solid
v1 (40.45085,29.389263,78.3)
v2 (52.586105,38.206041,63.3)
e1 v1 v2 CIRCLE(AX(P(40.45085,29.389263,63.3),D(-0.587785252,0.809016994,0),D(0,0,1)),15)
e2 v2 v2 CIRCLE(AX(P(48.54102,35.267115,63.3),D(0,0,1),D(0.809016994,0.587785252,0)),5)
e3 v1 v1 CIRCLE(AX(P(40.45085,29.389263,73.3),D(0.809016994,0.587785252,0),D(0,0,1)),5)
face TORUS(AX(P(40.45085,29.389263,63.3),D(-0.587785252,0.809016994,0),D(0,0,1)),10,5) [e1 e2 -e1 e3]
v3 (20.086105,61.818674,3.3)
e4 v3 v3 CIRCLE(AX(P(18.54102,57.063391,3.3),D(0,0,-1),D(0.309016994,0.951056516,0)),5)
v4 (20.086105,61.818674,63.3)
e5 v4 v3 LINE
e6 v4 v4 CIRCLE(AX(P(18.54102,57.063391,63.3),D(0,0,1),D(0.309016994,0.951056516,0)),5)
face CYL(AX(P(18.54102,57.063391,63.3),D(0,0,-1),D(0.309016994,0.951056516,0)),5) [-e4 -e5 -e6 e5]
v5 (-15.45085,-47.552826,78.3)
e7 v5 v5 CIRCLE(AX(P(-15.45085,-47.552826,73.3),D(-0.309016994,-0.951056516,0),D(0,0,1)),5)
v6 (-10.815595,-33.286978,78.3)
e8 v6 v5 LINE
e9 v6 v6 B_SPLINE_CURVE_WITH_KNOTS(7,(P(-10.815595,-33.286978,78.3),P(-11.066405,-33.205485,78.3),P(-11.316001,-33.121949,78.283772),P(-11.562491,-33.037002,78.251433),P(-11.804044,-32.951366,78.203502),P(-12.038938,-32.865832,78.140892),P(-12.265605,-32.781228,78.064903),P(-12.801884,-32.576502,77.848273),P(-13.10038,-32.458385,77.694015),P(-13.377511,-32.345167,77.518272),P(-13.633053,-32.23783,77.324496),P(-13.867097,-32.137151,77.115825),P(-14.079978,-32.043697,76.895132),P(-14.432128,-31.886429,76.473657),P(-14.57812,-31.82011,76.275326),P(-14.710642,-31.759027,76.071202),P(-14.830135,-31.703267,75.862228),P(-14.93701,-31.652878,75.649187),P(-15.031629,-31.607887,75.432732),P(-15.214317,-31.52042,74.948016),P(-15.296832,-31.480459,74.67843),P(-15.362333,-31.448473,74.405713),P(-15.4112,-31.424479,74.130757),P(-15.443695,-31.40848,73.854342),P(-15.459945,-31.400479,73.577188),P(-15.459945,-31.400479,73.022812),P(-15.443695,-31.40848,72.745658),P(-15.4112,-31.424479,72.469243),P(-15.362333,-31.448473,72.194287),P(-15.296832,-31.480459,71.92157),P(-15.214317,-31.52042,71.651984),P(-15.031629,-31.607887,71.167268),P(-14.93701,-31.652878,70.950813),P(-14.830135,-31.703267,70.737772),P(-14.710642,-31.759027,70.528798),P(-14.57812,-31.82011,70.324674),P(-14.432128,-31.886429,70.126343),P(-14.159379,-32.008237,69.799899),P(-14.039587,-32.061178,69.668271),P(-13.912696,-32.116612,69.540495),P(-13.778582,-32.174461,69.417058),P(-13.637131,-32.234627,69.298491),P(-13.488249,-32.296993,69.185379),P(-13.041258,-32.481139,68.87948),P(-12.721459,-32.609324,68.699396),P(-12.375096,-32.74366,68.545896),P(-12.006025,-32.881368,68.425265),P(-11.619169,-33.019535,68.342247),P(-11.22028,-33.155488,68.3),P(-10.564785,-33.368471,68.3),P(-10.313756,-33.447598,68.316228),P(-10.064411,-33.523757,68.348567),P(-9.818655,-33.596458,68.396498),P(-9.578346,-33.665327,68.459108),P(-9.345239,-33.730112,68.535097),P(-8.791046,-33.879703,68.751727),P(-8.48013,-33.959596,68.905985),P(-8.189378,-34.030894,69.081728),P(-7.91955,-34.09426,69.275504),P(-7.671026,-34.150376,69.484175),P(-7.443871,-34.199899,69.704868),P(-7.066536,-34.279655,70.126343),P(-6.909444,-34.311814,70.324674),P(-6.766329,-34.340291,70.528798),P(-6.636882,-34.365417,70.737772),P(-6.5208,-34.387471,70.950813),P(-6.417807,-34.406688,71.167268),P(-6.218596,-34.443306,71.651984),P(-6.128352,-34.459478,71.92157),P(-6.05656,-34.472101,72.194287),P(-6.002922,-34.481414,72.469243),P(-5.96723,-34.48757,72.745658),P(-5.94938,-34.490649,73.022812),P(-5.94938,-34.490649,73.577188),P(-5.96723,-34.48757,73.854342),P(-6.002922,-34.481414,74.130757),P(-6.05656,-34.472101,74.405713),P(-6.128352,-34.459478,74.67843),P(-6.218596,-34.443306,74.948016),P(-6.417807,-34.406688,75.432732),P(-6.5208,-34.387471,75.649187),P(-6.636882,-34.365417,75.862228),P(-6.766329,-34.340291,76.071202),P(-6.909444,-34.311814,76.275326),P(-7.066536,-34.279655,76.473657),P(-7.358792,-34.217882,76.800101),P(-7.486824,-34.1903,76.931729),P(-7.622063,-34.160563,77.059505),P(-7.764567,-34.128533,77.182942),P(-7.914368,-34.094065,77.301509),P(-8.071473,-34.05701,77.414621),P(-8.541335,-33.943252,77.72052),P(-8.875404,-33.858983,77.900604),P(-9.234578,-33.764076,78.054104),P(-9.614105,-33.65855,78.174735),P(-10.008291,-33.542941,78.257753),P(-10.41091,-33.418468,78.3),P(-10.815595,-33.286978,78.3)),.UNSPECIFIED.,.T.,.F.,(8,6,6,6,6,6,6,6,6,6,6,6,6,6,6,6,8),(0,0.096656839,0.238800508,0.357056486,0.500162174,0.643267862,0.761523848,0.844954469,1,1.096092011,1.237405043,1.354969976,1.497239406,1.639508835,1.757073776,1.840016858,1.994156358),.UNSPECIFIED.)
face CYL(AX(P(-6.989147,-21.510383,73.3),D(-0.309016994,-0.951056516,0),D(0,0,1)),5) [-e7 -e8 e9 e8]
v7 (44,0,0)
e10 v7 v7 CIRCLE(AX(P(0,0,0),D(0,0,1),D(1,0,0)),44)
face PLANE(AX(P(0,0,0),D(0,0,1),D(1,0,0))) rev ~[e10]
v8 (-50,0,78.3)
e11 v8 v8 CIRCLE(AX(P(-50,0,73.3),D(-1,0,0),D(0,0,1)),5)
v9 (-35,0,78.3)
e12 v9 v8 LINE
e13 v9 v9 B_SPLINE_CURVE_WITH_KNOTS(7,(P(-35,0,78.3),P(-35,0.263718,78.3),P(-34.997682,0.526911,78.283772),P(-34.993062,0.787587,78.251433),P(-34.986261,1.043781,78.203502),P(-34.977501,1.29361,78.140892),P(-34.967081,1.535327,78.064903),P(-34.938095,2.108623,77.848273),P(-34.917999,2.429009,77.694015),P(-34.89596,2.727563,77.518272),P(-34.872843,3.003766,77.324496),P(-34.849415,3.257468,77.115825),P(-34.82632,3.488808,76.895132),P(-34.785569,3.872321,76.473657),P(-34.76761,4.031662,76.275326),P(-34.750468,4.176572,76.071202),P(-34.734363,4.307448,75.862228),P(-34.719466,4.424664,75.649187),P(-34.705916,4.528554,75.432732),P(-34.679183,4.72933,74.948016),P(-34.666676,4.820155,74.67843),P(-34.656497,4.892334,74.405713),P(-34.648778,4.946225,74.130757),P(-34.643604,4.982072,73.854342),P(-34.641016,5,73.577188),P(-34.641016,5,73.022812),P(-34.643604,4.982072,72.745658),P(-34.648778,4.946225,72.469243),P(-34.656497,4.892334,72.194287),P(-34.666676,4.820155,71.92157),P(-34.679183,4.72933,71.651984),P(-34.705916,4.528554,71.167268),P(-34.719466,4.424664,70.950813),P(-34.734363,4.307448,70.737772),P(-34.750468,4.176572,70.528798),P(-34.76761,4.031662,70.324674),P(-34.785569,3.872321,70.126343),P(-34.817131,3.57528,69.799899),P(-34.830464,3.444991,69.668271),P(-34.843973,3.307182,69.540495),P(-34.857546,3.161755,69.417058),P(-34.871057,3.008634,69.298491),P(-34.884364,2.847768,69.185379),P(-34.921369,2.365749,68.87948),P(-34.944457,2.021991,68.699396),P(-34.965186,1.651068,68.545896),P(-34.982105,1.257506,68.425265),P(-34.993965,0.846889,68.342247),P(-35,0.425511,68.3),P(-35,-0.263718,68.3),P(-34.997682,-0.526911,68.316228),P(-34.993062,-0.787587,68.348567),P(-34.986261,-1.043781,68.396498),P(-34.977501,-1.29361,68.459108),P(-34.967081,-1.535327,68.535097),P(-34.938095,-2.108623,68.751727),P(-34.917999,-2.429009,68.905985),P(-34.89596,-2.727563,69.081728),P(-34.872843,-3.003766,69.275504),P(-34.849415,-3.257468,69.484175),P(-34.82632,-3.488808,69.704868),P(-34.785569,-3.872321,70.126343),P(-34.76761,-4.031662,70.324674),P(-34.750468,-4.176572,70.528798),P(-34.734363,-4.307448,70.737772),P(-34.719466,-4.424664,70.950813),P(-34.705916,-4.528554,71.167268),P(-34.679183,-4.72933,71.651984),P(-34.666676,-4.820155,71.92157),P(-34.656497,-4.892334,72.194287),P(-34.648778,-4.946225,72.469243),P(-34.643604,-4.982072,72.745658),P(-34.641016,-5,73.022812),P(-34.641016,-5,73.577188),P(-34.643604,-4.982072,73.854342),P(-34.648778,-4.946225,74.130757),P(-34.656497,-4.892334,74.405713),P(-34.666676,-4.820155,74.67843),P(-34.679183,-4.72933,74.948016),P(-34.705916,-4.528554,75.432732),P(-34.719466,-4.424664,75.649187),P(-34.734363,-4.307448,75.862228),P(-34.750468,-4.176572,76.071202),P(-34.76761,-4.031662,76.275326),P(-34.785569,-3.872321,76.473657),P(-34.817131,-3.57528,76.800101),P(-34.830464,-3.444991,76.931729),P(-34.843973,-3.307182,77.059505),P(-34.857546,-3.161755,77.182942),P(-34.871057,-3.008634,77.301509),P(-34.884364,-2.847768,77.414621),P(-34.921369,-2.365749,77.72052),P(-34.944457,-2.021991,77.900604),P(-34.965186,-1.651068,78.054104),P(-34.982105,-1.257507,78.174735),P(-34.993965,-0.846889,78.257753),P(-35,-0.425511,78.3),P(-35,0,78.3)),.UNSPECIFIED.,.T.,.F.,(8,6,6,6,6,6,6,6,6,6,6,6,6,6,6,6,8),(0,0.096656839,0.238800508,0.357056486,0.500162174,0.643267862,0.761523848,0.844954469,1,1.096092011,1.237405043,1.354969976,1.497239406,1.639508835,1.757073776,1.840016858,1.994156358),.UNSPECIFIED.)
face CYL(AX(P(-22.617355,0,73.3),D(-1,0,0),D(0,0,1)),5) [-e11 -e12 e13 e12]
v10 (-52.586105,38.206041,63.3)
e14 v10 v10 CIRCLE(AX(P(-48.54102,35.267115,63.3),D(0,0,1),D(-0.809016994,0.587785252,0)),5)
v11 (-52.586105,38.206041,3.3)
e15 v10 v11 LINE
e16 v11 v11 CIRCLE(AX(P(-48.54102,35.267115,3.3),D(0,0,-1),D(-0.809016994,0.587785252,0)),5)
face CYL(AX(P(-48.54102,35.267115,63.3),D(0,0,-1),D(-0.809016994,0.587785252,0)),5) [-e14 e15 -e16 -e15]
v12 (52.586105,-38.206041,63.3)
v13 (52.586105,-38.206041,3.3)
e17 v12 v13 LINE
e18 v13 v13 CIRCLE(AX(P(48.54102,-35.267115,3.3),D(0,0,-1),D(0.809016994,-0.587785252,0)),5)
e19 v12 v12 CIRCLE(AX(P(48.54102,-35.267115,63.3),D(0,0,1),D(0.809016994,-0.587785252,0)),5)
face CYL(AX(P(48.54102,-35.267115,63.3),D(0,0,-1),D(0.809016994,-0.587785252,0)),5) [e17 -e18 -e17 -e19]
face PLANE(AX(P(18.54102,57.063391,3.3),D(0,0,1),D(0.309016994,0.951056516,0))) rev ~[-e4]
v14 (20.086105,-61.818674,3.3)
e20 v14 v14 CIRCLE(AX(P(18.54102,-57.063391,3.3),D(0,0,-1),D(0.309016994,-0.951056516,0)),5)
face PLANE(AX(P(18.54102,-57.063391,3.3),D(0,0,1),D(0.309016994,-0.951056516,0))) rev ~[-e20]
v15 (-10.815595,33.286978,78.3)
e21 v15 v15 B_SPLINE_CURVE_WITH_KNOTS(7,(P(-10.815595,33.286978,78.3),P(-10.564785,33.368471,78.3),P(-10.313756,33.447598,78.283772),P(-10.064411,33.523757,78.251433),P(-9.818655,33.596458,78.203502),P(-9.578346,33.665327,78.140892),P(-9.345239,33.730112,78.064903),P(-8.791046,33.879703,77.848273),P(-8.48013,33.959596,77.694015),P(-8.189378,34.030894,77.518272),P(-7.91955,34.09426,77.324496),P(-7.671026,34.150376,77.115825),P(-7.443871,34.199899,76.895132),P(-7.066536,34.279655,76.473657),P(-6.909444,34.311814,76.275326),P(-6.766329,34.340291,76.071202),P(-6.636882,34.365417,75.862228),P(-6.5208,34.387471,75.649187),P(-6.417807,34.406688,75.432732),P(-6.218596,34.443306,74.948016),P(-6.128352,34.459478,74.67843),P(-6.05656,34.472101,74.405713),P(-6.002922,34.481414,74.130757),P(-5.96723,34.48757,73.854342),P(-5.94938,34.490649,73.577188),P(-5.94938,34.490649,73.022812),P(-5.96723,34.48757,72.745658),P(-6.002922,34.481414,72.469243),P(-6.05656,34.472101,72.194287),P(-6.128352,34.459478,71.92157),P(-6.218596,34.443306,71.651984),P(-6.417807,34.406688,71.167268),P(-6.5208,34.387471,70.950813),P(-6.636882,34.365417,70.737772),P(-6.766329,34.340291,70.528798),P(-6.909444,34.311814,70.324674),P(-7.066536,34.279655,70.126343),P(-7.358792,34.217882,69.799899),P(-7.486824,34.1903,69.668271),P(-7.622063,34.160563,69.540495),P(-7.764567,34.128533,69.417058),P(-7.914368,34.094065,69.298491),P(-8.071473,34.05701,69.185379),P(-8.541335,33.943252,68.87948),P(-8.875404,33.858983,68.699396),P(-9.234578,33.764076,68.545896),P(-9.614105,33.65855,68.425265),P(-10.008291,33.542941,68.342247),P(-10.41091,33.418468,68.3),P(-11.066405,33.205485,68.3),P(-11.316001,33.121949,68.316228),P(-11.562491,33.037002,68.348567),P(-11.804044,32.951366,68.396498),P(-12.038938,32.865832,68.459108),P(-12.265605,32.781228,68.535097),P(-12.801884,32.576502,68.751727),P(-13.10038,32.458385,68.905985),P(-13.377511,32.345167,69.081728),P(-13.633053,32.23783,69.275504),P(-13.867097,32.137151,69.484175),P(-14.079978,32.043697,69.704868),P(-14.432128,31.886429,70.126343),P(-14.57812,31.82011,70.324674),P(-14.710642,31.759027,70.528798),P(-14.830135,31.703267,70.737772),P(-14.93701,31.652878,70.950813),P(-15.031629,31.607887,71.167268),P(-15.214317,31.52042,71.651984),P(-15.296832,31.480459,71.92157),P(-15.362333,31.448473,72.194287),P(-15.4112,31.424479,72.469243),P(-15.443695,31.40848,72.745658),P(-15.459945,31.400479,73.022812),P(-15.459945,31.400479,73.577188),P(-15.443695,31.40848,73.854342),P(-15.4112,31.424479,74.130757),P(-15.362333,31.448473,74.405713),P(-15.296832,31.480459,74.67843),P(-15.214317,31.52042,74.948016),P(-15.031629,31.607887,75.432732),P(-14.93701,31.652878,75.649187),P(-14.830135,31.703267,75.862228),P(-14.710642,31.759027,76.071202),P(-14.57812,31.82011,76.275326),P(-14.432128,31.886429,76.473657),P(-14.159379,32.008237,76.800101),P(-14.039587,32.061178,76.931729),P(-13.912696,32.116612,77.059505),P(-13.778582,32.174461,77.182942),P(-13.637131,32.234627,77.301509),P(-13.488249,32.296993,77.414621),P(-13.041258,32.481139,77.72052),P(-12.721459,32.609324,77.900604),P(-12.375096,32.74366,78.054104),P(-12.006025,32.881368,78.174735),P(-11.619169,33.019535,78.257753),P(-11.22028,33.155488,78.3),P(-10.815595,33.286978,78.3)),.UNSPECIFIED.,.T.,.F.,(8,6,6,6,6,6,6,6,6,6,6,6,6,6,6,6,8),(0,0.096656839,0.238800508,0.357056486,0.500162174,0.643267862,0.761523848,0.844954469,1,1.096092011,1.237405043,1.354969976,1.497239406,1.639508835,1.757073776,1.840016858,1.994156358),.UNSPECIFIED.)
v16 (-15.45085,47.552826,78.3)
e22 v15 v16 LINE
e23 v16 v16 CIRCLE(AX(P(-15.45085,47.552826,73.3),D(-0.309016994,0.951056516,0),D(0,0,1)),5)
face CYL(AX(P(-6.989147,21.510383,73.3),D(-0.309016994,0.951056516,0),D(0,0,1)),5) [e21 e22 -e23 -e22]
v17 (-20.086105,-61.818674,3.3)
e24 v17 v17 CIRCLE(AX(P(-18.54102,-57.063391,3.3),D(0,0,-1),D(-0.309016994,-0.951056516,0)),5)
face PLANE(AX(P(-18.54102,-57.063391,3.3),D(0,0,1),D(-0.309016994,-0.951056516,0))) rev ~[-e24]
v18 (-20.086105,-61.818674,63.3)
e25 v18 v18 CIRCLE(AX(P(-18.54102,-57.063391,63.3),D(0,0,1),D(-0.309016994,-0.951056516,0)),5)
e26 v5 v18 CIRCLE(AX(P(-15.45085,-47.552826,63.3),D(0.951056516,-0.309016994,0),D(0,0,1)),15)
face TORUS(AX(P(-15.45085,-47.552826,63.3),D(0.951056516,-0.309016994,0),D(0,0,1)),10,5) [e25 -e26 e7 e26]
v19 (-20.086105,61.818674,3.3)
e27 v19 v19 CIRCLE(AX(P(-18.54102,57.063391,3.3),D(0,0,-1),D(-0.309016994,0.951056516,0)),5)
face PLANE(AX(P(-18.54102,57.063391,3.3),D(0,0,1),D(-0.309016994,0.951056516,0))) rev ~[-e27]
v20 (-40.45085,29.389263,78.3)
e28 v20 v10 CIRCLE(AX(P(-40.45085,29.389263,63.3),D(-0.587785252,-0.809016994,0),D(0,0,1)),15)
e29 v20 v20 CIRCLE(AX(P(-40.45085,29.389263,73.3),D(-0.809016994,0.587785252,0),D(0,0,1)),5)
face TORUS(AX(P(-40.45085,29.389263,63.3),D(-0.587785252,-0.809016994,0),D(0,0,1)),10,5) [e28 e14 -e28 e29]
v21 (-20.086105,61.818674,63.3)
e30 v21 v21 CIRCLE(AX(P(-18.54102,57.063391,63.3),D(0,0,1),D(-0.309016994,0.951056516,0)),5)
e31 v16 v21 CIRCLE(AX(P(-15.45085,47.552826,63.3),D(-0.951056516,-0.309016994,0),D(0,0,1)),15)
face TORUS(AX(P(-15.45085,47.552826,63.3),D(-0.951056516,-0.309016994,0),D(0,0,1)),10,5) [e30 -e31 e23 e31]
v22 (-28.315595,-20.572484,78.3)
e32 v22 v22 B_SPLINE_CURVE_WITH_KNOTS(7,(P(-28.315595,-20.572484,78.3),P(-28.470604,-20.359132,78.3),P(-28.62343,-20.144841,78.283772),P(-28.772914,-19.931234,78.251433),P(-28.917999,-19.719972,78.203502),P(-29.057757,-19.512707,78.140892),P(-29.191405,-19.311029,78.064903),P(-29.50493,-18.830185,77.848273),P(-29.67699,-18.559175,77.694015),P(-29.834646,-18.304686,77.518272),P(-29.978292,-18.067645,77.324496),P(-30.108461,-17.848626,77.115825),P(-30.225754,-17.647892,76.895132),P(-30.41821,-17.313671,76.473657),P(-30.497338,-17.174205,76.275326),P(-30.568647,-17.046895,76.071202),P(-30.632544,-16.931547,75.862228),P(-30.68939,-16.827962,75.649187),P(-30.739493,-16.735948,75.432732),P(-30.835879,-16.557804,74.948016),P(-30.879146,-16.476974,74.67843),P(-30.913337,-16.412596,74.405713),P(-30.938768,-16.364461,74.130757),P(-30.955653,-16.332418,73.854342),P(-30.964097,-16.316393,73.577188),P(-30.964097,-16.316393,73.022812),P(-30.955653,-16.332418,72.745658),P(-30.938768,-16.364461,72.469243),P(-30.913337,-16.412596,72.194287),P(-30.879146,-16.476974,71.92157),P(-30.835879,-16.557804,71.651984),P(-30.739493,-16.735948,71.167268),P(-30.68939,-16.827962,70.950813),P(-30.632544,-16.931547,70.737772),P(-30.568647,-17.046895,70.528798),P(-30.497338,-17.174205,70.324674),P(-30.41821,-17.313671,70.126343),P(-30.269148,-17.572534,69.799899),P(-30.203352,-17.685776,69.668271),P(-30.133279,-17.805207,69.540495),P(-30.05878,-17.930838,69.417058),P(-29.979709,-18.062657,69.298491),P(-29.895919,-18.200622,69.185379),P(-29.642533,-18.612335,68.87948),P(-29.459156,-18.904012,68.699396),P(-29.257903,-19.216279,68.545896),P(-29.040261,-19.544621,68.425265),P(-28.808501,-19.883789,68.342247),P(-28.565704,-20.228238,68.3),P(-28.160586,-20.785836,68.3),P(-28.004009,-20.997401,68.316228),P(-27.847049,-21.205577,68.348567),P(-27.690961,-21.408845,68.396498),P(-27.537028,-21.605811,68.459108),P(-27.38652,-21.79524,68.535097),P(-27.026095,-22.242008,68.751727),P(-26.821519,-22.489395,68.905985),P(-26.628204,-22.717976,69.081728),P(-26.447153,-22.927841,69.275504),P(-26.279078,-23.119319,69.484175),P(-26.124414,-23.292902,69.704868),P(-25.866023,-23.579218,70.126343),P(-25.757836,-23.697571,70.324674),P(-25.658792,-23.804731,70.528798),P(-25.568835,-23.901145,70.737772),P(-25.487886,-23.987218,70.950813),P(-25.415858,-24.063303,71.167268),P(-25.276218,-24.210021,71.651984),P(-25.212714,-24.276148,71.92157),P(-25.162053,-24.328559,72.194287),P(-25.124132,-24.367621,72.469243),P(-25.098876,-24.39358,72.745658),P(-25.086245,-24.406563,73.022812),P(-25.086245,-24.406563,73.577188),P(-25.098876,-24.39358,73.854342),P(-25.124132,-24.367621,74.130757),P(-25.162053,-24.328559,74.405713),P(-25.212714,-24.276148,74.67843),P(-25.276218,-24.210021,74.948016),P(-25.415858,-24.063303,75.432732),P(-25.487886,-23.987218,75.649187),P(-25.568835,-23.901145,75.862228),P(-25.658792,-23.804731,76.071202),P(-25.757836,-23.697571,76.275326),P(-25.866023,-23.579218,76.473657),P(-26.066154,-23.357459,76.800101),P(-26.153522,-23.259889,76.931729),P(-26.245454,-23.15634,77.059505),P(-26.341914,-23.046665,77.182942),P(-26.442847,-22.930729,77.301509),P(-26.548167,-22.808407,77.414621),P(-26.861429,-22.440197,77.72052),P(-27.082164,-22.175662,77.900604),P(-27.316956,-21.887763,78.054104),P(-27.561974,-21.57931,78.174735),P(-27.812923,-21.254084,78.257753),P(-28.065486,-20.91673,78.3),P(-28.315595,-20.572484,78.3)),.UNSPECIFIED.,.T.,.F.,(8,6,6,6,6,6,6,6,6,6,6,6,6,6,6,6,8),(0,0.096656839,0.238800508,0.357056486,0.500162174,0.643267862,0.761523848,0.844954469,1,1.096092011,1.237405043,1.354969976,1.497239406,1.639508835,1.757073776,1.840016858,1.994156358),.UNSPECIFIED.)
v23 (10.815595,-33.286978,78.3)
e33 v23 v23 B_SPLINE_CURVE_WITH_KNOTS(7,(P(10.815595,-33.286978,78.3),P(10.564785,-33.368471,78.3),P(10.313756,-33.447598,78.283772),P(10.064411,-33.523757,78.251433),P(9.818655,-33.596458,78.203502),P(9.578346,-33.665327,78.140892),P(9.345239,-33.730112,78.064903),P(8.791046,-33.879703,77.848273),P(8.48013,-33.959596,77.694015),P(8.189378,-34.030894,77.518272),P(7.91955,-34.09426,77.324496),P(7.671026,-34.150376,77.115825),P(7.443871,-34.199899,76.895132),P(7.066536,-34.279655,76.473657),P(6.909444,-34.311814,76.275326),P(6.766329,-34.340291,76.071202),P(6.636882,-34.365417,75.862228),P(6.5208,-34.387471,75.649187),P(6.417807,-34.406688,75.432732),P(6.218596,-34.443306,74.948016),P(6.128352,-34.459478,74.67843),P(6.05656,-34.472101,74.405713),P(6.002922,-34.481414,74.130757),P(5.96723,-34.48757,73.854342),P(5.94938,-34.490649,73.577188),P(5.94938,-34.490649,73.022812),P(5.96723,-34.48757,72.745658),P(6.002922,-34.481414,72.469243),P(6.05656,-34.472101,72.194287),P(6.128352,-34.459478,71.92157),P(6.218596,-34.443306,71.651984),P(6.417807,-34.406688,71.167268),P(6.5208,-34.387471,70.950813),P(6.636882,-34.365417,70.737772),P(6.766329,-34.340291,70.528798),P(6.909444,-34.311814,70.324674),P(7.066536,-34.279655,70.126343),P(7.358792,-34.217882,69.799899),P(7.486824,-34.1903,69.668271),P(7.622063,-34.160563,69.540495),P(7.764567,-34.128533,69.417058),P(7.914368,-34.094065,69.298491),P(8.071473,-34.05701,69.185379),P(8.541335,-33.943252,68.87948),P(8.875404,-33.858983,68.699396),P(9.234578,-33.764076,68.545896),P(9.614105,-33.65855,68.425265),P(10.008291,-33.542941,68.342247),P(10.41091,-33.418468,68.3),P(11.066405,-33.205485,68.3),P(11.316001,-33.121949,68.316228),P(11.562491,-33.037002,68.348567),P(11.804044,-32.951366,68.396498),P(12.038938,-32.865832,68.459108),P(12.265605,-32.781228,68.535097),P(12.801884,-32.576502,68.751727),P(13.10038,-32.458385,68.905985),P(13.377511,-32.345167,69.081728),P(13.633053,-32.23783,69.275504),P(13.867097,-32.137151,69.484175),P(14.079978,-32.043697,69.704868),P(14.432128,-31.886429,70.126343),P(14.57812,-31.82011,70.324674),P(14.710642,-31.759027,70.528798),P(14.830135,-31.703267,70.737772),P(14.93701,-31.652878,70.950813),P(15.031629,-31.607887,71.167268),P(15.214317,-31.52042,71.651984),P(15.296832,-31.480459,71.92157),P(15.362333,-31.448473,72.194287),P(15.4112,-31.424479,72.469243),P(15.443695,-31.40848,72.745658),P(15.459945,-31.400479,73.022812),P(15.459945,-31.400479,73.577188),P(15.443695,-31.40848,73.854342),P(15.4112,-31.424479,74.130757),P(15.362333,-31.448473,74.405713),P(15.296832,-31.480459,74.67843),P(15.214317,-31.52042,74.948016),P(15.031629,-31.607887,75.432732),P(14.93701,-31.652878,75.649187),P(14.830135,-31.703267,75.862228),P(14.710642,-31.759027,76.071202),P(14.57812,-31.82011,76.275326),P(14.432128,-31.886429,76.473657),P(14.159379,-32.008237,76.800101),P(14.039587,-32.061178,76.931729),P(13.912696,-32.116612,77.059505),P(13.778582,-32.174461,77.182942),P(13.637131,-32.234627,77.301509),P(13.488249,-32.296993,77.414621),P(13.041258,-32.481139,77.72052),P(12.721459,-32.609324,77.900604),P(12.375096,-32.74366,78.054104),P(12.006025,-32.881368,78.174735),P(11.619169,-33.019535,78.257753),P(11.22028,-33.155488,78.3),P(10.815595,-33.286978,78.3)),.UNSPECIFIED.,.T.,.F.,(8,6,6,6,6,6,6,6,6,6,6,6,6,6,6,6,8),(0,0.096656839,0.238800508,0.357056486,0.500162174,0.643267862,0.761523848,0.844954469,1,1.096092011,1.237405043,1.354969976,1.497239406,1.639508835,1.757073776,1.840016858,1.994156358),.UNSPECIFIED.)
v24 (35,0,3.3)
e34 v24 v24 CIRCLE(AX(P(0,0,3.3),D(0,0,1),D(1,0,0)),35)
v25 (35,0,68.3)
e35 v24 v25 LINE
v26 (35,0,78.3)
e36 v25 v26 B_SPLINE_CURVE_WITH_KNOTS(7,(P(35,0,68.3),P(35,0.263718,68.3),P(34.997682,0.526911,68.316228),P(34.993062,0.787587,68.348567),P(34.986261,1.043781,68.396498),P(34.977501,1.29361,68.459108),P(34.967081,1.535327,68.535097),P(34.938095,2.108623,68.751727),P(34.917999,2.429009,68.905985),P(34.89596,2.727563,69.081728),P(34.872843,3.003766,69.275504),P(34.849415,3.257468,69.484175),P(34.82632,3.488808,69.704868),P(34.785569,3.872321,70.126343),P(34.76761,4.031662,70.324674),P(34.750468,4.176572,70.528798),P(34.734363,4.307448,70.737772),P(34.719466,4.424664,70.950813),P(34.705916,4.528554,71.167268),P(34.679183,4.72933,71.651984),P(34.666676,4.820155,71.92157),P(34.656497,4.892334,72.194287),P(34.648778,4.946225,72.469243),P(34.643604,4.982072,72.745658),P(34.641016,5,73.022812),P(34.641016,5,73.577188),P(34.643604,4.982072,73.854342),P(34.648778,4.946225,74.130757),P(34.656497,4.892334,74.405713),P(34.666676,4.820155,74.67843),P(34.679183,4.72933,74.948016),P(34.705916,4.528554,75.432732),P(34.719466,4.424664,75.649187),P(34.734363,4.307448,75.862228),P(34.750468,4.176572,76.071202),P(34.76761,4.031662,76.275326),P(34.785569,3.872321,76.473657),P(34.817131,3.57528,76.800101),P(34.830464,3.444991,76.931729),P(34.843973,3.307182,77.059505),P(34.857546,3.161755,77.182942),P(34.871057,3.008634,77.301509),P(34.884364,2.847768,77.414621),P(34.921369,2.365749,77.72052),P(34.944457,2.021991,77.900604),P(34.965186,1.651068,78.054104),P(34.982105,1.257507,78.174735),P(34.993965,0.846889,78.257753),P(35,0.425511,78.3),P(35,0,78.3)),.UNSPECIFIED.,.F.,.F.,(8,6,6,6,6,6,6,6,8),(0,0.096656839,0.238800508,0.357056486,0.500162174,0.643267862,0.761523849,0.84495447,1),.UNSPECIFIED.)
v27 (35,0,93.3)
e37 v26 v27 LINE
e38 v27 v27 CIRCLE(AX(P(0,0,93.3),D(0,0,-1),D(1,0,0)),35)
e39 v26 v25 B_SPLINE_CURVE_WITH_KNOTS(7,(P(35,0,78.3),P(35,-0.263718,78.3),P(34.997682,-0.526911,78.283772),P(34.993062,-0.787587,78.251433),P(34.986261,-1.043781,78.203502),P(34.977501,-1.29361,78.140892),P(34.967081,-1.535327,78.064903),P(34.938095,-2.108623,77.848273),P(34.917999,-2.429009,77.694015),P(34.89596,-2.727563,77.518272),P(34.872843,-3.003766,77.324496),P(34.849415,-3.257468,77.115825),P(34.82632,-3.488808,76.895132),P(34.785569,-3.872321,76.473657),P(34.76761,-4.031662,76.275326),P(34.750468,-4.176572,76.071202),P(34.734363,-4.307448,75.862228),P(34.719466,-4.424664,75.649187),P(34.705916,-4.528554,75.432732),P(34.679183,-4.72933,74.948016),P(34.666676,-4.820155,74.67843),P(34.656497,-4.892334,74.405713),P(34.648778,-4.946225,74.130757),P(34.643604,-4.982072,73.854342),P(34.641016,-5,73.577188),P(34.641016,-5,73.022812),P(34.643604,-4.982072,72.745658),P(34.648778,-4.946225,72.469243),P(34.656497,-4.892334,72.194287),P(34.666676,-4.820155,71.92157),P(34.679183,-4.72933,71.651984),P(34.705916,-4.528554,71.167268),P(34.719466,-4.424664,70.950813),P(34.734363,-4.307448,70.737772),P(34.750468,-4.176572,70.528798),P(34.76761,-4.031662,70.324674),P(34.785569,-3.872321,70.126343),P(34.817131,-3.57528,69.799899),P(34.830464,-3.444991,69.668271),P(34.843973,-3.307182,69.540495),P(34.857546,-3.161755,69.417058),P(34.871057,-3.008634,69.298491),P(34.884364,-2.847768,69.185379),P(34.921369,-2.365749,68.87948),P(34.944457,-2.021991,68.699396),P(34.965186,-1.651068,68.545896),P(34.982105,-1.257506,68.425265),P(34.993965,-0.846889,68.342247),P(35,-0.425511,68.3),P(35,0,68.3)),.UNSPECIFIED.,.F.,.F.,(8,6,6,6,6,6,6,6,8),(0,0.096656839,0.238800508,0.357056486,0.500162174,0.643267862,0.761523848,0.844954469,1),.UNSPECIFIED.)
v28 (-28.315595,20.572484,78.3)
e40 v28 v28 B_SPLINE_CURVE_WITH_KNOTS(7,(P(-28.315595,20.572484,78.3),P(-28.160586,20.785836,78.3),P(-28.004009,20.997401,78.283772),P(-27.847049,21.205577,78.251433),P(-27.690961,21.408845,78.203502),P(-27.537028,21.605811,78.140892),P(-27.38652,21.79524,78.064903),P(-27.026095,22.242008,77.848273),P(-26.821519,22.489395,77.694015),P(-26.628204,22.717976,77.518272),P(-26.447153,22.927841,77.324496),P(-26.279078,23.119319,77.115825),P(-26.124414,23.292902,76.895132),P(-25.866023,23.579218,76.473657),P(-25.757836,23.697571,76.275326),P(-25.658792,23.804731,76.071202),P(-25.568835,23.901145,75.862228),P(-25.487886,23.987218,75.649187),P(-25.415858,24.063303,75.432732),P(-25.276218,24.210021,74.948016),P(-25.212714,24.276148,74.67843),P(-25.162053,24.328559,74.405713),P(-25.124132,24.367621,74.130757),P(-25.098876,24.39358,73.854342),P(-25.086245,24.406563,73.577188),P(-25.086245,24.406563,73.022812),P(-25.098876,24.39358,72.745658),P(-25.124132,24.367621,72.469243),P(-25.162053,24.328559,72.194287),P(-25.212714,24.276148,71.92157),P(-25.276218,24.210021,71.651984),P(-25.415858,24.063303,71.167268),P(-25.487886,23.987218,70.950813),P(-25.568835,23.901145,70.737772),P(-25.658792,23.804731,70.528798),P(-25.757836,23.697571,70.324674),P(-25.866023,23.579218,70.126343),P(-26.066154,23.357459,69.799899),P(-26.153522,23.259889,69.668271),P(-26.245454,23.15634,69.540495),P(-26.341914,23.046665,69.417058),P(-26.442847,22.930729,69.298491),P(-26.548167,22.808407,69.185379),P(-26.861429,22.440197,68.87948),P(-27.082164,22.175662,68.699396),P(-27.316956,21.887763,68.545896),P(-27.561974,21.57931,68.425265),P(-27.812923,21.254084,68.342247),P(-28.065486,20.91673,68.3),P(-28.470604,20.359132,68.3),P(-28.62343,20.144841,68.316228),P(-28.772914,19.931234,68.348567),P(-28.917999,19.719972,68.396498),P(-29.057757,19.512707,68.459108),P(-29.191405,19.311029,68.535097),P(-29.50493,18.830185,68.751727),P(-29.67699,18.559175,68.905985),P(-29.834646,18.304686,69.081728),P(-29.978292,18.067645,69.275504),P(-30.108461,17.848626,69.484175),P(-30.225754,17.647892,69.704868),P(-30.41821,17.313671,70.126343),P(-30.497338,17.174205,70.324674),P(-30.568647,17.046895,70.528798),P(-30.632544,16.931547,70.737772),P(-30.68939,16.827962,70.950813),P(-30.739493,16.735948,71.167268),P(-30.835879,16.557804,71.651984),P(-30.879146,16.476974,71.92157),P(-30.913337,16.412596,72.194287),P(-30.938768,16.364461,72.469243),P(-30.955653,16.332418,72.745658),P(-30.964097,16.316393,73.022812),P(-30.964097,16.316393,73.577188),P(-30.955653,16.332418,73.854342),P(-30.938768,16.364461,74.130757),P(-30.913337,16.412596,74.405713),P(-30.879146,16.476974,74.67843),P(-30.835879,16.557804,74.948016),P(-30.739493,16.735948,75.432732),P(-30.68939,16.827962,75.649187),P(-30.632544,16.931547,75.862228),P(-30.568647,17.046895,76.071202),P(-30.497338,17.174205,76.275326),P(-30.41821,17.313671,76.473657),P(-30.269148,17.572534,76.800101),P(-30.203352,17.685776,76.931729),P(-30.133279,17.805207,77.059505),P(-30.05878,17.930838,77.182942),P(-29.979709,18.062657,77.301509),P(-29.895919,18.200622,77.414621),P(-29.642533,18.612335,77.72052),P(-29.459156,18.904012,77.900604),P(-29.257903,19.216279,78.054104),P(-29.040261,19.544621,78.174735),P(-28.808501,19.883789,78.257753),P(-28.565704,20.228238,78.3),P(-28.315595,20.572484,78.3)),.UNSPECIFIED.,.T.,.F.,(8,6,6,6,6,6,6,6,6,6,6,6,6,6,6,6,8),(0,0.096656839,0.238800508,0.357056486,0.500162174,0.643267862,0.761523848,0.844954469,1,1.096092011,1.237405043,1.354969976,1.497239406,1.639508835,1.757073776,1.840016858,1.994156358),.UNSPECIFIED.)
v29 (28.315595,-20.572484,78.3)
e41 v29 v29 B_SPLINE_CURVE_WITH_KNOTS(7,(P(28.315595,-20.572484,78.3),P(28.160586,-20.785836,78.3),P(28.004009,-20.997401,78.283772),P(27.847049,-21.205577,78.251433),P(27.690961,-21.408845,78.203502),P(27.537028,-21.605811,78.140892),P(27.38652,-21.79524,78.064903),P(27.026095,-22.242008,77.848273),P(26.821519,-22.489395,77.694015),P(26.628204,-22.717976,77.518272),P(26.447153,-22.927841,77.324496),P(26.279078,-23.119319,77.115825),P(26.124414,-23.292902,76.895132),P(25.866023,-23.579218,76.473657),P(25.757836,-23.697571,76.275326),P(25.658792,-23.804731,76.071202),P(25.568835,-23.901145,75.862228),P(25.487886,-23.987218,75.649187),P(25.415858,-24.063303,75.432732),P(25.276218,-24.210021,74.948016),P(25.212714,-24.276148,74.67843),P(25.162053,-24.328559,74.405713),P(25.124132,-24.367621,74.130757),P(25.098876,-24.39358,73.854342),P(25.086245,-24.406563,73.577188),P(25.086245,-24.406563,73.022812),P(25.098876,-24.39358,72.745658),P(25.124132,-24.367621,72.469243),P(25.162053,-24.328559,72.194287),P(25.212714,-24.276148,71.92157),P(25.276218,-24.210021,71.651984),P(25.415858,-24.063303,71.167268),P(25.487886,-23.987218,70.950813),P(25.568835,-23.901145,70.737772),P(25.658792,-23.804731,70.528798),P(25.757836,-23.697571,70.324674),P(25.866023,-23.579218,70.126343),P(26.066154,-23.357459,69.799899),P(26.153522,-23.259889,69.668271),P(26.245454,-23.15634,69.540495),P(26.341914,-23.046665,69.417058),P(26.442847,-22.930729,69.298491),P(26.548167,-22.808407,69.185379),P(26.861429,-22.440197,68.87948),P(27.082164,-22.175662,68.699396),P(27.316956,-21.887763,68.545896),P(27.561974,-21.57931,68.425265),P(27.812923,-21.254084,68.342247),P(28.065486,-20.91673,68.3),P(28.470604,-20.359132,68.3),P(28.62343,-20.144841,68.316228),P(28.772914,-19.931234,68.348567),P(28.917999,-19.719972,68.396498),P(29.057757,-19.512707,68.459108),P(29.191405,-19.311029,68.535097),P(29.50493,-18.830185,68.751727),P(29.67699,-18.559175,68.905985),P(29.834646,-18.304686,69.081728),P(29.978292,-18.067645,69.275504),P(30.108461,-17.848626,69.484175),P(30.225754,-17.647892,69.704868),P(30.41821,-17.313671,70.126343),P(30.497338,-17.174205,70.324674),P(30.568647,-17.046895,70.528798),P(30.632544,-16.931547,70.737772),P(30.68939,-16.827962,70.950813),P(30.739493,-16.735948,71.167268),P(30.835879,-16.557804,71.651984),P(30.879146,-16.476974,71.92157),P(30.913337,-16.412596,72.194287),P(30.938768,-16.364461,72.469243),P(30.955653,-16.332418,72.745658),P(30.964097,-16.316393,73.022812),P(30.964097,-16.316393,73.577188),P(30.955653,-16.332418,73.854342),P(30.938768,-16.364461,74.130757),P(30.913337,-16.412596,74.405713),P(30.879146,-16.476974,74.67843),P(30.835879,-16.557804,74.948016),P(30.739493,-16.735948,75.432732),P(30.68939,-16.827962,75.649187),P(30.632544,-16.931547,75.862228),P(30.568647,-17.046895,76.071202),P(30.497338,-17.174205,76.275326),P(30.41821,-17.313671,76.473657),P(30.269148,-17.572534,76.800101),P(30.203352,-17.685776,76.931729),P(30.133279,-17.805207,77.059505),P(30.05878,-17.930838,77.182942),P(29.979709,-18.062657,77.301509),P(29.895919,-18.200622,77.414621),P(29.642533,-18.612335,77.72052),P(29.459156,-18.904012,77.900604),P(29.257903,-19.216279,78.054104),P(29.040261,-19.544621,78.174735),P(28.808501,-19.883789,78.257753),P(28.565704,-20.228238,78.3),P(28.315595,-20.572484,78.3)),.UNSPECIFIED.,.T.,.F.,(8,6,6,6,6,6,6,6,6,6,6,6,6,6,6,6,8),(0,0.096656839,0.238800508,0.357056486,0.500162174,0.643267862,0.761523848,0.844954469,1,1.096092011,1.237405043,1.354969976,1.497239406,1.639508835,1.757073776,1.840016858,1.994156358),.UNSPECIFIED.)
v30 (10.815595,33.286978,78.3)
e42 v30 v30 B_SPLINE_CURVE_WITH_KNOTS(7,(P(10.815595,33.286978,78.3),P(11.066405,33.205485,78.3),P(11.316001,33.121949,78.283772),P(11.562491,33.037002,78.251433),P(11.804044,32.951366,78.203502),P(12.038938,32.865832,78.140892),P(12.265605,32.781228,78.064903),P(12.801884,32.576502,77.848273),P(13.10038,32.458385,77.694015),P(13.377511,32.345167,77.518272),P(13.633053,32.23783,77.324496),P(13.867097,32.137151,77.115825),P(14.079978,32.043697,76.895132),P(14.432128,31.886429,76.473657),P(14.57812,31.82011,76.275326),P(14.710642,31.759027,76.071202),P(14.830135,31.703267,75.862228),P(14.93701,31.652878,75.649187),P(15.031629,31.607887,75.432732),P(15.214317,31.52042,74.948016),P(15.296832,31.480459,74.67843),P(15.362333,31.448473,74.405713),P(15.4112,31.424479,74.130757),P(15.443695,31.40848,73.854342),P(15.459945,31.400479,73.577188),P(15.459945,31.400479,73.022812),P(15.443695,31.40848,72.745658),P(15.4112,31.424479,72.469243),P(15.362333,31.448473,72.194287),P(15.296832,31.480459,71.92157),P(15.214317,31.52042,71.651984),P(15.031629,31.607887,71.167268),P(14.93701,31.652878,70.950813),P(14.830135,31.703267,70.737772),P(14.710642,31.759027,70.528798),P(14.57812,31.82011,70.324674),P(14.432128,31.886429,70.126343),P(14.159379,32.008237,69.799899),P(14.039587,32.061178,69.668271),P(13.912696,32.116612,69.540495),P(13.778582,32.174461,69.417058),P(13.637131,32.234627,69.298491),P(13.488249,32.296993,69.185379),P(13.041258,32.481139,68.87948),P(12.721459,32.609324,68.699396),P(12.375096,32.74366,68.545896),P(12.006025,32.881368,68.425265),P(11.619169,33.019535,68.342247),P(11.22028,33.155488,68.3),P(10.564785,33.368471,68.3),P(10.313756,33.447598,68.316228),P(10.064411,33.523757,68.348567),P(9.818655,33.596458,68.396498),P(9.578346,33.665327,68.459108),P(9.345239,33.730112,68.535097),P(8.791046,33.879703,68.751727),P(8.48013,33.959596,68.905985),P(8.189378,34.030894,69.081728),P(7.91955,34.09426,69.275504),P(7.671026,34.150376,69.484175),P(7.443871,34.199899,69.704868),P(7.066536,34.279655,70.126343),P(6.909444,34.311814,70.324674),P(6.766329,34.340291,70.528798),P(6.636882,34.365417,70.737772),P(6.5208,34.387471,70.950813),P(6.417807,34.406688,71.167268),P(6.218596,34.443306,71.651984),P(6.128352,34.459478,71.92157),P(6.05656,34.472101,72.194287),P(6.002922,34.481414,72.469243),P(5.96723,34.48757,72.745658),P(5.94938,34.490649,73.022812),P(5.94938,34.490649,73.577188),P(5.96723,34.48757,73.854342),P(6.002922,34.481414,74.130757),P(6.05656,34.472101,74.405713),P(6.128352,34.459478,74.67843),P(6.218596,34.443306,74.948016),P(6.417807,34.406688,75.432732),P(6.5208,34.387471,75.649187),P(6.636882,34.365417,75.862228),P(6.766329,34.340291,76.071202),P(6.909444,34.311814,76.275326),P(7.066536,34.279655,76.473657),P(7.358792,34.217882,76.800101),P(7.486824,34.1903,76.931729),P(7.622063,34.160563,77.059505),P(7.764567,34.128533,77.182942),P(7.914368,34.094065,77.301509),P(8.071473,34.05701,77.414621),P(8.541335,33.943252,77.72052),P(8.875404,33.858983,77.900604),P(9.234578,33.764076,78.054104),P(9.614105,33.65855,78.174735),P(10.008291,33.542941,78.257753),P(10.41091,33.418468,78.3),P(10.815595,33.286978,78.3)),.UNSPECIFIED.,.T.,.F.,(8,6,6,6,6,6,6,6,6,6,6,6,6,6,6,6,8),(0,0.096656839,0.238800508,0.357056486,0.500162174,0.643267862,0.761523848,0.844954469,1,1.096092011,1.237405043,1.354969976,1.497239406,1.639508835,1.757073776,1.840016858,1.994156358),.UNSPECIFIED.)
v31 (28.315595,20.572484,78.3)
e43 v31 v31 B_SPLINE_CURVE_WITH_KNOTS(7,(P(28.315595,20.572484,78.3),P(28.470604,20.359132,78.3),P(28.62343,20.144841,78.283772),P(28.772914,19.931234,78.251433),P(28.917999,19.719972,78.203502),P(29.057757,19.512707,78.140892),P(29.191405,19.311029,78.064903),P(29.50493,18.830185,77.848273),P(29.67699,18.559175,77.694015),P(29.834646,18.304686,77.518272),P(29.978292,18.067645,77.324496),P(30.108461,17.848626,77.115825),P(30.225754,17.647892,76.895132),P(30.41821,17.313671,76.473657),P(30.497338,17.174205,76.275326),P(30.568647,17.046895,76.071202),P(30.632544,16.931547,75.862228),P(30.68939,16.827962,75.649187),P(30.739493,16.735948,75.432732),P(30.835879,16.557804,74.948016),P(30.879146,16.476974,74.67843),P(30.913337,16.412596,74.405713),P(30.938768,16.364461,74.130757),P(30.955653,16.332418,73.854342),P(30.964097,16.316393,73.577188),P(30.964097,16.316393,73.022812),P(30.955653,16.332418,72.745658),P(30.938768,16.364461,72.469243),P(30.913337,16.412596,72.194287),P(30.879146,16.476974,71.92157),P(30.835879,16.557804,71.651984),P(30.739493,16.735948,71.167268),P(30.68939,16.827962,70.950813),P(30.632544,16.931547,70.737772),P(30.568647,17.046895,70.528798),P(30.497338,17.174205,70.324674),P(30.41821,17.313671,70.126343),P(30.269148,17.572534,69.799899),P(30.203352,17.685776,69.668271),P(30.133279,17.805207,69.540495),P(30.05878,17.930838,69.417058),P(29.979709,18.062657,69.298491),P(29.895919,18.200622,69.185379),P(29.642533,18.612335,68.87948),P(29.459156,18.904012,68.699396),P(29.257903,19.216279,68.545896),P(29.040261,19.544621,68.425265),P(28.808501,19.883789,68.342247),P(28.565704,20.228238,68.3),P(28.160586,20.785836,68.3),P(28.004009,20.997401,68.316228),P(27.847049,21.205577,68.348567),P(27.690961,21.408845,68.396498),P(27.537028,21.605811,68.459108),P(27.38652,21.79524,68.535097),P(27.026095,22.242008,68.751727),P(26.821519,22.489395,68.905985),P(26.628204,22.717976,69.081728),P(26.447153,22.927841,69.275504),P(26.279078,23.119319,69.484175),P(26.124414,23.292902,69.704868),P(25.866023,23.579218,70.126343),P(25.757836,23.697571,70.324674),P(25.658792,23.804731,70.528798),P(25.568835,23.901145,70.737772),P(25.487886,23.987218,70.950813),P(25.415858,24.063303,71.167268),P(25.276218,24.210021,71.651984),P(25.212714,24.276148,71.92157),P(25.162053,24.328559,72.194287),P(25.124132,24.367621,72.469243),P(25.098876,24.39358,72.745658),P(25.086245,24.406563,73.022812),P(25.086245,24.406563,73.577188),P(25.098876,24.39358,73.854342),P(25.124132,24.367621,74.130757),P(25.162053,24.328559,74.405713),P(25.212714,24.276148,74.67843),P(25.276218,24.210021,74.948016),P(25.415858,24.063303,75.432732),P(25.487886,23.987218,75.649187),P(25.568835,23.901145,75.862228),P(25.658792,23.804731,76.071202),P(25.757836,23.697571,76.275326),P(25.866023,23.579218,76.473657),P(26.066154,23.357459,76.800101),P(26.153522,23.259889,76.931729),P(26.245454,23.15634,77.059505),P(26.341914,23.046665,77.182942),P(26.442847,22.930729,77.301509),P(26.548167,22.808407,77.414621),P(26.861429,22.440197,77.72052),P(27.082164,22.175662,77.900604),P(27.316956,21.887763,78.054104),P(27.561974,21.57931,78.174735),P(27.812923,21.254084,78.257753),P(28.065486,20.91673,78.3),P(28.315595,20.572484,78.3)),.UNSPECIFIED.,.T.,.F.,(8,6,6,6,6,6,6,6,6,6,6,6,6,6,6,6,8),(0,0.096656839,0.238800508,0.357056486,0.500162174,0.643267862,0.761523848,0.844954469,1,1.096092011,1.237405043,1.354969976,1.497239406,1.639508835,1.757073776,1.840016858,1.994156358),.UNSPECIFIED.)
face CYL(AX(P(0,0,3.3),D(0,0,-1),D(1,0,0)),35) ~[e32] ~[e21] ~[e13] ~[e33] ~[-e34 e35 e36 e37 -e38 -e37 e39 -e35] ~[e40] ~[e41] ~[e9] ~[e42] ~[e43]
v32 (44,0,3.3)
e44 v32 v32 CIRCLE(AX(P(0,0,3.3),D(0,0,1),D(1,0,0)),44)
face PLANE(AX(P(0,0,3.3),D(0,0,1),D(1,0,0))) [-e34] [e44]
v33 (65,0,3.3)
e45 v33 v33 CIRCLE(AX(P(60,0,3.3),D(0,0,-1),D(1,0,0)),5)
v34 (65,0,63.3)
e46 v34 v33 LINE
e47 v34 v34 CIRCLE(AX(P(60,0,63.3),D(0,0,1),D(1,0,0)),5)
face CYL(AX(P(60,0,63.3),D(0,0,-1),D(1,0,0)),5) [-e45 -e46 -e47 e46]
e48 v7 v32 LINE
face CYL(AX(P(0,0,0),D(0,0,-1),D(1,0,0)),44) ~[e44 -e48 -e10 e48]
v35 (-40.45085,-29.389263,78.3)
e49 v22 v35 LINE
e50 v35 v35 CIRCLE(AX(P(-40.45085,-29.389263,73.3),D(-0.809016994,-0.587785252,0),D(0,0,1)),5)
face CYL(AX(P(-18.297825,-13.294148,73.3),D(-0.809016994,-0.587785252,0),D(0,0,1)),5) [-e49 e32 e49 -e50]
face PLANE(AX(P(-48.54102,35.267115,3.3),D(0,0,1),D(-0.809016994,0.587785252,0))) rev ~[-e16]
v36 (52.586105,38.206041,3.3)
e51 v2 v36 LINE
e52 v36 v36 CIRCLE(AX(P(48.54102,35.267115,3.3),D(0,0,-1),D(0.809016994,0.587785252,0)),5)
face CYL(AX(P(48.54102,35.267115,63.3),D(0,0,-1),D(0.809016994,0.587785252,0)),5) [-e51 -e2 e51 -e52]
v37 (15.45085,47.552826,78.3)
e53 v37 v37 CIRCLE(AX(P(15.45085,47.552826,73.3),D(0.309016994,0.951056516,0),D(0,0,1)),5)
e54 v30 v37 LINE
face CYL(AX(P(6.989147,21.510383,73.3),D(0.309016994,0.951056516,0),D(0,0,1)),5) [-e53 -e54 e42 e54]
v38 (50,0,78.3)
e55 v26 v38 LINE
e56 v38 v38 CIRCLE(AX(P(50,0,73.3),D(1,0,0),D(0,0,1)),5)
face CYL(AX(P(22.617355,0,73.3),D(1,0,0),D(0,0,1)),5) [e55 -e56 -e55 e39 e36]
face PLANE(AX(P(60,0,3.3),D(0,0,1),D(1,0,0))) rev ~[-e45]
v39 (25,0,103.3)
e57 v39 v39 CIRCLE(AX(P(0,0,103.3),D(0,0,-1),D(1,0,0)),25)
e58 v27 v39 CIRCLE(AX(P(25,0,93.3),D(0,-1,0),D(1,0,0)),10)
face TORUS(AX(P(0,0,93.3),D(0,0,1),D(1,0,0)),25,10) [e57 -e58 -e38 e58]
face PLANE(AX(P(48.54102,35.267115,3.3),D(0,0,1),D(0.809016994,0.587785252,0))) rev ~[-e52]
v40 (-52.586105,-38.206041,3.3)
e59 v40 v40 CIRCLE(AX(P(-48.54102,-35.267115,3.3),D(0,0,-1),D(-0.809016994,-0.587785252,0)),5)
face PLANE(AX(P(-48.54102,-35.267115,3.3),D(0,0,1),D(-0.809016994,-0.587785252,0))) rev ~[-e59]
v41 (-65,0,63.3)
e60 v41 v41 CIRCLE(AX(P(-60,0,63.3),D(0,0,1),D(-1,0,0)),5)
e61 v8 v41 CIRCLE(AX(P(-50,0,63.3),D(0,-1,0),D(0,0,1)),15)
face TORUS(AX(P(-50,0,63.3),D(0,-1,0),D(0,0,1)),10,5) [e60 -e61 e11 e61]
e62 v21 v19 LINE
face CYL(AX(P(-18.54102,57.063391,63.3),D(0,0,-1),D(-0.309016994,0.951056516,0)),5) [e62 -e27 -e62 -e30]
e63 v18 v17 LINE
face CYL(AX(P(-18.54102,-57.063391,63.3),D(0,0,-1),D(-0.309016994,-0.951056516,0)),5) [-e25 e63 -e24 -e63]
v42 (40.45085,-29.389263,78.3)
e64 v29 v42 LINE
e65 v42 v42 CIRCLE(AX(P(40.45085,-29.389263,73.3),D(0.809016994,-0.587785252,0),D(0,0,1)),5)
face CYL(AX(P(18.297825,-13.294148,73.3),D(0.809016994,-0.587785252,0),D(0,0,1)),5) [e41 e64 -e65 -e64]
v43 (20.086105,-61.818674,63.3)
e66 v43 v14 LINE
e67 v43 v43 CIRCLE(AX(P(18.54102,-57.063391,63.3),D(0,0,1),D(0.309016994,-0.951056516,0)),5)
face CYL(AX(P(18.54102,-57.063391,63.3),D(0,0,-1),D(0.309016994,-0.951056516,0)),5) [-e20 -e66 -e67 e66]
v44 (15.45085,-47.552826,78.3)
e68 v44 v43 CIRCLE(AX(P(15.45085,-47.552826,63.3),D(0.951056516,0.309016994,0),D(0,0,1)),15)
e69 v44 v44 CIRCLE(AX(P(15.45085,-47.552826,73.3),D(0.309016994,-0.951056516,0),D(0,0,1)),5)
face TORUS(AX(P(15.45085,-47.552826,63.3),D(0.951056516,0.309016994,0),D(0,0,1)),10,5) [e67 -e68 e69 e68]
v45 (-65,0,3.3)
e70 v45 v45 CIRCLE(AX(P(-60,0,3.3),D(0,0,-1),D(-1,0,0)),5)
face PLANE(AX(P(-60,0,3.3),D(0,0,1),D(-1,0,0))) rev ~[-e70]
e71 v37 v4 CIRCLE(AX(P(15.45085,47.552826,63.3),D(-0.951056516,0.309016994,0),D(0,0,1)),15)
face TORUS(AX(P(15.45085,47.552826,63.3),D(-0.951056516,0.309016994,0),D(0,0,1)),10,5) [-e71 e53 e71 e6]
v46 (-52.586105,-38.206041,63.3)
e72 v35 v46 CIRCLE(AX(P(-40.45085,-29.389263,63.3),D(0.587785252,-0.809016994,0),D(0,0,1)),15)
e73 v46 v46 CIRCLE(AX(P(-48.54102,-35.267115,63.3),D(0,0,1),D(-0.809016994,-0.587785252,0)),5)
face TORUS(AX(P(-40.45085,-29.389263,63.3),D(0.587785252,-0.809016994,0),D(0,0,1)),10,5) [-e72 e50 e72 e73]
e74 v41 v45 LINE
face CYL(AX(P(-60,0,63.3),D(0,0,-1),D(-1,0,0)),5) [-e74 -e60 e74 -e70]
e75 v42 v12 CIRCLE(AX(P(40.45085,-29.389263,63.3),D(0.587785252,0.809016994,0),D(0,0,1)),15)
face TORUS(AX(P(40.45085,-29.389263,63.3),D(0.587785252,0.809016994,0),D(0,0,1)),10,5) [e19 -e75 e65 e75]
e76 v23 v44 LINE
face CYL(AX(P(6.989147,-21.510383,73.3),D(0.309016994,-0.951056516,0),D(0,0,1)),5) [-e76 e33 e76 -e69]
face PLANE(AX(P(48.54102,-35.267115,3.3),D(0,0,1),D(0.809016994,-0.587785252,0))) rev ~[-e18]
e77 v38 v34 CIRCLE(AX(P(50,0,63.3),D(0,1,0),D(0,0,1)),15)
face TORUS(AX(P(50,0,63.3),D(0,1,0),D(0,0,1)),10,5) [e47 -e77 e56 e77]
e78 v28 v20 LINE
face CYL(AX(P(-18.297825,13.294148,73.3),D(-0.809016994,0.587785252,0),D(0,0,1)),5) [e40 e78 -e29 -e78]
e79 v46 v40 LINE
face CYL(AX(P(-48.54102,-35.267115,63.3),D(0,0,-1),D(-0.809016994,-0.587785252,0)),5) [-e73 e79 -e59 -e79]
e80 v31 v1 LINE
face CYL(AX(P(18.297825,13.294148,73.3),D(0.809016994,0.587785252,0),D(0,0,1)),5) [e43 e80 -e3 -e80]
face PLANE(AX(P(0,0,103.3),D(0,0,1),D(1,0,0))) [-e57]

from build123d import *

# Parameters (mm, degrees)
SKETCH_R           = 44
PAD_DEPTH          = 3.3
SKETCH001_R        = 35
PAD001_DEPTH       = 100
FILLET_R           = 10
SKETCH003_R        = 5
POLARPATTERN_COUNT = 10


with BuildPart() as part:
    # Sketch → Pad (new body)
    with BuildSketch(Plane.XY):
        Circle(SKETCH_R)
    extrude(amount=PAD_DEPTH)

    # Sketch001 (on Face3 of Pad) → Pad001 (join)
    with BuildSketch(Plane.XY.offset(3.3)):
        Circle(SKETCH001_R)
    extrude(amount=PAD001_DEPTH)

    # Fillet
    fillet_edges = [part.edges().sort_by_distance(p)[0] for p in [
        (-35, 0, 103.3),
    ]]
    fillet(fillet_edges, radius=FILLET_R)

    # AdditivePipe: sweep along a path in Sketch002
    with BuildLine(Plane.XZ) as additivepipe_path:
        Line((22.617355, 73.3), (35, 73.3))
        Line((35, 73.3), (50, 73.3))
        ThreePointArc((50, 73.3), (57.0710678119, 70.3710678119), (60, 63.3))
        Line((60, 63.3), (60, 3.3))
    # Sketch003 (on Face3 of Fillet) → AdditivePipe (sweep)
    with BuildSketch(Plane.XY.offset(3.3)):
        with Locations((60, 0)):
            Circle(SKETCH003_R)
    sweep(path=additivepipe_path.line)

    # PolarPattern: part ×10 about axis
    polarpattern_axis = Axis((0, 0, 0), (0, 0, 1))


with BuildPart() as part_1:
    add(part.part)
    for i in range(1, POLARPATTERN_COUNT):
        add(part.part.rotate(polarpattern_axis, i * 360 / POLARPATTERN_COUNT))


solid = part_1.part
